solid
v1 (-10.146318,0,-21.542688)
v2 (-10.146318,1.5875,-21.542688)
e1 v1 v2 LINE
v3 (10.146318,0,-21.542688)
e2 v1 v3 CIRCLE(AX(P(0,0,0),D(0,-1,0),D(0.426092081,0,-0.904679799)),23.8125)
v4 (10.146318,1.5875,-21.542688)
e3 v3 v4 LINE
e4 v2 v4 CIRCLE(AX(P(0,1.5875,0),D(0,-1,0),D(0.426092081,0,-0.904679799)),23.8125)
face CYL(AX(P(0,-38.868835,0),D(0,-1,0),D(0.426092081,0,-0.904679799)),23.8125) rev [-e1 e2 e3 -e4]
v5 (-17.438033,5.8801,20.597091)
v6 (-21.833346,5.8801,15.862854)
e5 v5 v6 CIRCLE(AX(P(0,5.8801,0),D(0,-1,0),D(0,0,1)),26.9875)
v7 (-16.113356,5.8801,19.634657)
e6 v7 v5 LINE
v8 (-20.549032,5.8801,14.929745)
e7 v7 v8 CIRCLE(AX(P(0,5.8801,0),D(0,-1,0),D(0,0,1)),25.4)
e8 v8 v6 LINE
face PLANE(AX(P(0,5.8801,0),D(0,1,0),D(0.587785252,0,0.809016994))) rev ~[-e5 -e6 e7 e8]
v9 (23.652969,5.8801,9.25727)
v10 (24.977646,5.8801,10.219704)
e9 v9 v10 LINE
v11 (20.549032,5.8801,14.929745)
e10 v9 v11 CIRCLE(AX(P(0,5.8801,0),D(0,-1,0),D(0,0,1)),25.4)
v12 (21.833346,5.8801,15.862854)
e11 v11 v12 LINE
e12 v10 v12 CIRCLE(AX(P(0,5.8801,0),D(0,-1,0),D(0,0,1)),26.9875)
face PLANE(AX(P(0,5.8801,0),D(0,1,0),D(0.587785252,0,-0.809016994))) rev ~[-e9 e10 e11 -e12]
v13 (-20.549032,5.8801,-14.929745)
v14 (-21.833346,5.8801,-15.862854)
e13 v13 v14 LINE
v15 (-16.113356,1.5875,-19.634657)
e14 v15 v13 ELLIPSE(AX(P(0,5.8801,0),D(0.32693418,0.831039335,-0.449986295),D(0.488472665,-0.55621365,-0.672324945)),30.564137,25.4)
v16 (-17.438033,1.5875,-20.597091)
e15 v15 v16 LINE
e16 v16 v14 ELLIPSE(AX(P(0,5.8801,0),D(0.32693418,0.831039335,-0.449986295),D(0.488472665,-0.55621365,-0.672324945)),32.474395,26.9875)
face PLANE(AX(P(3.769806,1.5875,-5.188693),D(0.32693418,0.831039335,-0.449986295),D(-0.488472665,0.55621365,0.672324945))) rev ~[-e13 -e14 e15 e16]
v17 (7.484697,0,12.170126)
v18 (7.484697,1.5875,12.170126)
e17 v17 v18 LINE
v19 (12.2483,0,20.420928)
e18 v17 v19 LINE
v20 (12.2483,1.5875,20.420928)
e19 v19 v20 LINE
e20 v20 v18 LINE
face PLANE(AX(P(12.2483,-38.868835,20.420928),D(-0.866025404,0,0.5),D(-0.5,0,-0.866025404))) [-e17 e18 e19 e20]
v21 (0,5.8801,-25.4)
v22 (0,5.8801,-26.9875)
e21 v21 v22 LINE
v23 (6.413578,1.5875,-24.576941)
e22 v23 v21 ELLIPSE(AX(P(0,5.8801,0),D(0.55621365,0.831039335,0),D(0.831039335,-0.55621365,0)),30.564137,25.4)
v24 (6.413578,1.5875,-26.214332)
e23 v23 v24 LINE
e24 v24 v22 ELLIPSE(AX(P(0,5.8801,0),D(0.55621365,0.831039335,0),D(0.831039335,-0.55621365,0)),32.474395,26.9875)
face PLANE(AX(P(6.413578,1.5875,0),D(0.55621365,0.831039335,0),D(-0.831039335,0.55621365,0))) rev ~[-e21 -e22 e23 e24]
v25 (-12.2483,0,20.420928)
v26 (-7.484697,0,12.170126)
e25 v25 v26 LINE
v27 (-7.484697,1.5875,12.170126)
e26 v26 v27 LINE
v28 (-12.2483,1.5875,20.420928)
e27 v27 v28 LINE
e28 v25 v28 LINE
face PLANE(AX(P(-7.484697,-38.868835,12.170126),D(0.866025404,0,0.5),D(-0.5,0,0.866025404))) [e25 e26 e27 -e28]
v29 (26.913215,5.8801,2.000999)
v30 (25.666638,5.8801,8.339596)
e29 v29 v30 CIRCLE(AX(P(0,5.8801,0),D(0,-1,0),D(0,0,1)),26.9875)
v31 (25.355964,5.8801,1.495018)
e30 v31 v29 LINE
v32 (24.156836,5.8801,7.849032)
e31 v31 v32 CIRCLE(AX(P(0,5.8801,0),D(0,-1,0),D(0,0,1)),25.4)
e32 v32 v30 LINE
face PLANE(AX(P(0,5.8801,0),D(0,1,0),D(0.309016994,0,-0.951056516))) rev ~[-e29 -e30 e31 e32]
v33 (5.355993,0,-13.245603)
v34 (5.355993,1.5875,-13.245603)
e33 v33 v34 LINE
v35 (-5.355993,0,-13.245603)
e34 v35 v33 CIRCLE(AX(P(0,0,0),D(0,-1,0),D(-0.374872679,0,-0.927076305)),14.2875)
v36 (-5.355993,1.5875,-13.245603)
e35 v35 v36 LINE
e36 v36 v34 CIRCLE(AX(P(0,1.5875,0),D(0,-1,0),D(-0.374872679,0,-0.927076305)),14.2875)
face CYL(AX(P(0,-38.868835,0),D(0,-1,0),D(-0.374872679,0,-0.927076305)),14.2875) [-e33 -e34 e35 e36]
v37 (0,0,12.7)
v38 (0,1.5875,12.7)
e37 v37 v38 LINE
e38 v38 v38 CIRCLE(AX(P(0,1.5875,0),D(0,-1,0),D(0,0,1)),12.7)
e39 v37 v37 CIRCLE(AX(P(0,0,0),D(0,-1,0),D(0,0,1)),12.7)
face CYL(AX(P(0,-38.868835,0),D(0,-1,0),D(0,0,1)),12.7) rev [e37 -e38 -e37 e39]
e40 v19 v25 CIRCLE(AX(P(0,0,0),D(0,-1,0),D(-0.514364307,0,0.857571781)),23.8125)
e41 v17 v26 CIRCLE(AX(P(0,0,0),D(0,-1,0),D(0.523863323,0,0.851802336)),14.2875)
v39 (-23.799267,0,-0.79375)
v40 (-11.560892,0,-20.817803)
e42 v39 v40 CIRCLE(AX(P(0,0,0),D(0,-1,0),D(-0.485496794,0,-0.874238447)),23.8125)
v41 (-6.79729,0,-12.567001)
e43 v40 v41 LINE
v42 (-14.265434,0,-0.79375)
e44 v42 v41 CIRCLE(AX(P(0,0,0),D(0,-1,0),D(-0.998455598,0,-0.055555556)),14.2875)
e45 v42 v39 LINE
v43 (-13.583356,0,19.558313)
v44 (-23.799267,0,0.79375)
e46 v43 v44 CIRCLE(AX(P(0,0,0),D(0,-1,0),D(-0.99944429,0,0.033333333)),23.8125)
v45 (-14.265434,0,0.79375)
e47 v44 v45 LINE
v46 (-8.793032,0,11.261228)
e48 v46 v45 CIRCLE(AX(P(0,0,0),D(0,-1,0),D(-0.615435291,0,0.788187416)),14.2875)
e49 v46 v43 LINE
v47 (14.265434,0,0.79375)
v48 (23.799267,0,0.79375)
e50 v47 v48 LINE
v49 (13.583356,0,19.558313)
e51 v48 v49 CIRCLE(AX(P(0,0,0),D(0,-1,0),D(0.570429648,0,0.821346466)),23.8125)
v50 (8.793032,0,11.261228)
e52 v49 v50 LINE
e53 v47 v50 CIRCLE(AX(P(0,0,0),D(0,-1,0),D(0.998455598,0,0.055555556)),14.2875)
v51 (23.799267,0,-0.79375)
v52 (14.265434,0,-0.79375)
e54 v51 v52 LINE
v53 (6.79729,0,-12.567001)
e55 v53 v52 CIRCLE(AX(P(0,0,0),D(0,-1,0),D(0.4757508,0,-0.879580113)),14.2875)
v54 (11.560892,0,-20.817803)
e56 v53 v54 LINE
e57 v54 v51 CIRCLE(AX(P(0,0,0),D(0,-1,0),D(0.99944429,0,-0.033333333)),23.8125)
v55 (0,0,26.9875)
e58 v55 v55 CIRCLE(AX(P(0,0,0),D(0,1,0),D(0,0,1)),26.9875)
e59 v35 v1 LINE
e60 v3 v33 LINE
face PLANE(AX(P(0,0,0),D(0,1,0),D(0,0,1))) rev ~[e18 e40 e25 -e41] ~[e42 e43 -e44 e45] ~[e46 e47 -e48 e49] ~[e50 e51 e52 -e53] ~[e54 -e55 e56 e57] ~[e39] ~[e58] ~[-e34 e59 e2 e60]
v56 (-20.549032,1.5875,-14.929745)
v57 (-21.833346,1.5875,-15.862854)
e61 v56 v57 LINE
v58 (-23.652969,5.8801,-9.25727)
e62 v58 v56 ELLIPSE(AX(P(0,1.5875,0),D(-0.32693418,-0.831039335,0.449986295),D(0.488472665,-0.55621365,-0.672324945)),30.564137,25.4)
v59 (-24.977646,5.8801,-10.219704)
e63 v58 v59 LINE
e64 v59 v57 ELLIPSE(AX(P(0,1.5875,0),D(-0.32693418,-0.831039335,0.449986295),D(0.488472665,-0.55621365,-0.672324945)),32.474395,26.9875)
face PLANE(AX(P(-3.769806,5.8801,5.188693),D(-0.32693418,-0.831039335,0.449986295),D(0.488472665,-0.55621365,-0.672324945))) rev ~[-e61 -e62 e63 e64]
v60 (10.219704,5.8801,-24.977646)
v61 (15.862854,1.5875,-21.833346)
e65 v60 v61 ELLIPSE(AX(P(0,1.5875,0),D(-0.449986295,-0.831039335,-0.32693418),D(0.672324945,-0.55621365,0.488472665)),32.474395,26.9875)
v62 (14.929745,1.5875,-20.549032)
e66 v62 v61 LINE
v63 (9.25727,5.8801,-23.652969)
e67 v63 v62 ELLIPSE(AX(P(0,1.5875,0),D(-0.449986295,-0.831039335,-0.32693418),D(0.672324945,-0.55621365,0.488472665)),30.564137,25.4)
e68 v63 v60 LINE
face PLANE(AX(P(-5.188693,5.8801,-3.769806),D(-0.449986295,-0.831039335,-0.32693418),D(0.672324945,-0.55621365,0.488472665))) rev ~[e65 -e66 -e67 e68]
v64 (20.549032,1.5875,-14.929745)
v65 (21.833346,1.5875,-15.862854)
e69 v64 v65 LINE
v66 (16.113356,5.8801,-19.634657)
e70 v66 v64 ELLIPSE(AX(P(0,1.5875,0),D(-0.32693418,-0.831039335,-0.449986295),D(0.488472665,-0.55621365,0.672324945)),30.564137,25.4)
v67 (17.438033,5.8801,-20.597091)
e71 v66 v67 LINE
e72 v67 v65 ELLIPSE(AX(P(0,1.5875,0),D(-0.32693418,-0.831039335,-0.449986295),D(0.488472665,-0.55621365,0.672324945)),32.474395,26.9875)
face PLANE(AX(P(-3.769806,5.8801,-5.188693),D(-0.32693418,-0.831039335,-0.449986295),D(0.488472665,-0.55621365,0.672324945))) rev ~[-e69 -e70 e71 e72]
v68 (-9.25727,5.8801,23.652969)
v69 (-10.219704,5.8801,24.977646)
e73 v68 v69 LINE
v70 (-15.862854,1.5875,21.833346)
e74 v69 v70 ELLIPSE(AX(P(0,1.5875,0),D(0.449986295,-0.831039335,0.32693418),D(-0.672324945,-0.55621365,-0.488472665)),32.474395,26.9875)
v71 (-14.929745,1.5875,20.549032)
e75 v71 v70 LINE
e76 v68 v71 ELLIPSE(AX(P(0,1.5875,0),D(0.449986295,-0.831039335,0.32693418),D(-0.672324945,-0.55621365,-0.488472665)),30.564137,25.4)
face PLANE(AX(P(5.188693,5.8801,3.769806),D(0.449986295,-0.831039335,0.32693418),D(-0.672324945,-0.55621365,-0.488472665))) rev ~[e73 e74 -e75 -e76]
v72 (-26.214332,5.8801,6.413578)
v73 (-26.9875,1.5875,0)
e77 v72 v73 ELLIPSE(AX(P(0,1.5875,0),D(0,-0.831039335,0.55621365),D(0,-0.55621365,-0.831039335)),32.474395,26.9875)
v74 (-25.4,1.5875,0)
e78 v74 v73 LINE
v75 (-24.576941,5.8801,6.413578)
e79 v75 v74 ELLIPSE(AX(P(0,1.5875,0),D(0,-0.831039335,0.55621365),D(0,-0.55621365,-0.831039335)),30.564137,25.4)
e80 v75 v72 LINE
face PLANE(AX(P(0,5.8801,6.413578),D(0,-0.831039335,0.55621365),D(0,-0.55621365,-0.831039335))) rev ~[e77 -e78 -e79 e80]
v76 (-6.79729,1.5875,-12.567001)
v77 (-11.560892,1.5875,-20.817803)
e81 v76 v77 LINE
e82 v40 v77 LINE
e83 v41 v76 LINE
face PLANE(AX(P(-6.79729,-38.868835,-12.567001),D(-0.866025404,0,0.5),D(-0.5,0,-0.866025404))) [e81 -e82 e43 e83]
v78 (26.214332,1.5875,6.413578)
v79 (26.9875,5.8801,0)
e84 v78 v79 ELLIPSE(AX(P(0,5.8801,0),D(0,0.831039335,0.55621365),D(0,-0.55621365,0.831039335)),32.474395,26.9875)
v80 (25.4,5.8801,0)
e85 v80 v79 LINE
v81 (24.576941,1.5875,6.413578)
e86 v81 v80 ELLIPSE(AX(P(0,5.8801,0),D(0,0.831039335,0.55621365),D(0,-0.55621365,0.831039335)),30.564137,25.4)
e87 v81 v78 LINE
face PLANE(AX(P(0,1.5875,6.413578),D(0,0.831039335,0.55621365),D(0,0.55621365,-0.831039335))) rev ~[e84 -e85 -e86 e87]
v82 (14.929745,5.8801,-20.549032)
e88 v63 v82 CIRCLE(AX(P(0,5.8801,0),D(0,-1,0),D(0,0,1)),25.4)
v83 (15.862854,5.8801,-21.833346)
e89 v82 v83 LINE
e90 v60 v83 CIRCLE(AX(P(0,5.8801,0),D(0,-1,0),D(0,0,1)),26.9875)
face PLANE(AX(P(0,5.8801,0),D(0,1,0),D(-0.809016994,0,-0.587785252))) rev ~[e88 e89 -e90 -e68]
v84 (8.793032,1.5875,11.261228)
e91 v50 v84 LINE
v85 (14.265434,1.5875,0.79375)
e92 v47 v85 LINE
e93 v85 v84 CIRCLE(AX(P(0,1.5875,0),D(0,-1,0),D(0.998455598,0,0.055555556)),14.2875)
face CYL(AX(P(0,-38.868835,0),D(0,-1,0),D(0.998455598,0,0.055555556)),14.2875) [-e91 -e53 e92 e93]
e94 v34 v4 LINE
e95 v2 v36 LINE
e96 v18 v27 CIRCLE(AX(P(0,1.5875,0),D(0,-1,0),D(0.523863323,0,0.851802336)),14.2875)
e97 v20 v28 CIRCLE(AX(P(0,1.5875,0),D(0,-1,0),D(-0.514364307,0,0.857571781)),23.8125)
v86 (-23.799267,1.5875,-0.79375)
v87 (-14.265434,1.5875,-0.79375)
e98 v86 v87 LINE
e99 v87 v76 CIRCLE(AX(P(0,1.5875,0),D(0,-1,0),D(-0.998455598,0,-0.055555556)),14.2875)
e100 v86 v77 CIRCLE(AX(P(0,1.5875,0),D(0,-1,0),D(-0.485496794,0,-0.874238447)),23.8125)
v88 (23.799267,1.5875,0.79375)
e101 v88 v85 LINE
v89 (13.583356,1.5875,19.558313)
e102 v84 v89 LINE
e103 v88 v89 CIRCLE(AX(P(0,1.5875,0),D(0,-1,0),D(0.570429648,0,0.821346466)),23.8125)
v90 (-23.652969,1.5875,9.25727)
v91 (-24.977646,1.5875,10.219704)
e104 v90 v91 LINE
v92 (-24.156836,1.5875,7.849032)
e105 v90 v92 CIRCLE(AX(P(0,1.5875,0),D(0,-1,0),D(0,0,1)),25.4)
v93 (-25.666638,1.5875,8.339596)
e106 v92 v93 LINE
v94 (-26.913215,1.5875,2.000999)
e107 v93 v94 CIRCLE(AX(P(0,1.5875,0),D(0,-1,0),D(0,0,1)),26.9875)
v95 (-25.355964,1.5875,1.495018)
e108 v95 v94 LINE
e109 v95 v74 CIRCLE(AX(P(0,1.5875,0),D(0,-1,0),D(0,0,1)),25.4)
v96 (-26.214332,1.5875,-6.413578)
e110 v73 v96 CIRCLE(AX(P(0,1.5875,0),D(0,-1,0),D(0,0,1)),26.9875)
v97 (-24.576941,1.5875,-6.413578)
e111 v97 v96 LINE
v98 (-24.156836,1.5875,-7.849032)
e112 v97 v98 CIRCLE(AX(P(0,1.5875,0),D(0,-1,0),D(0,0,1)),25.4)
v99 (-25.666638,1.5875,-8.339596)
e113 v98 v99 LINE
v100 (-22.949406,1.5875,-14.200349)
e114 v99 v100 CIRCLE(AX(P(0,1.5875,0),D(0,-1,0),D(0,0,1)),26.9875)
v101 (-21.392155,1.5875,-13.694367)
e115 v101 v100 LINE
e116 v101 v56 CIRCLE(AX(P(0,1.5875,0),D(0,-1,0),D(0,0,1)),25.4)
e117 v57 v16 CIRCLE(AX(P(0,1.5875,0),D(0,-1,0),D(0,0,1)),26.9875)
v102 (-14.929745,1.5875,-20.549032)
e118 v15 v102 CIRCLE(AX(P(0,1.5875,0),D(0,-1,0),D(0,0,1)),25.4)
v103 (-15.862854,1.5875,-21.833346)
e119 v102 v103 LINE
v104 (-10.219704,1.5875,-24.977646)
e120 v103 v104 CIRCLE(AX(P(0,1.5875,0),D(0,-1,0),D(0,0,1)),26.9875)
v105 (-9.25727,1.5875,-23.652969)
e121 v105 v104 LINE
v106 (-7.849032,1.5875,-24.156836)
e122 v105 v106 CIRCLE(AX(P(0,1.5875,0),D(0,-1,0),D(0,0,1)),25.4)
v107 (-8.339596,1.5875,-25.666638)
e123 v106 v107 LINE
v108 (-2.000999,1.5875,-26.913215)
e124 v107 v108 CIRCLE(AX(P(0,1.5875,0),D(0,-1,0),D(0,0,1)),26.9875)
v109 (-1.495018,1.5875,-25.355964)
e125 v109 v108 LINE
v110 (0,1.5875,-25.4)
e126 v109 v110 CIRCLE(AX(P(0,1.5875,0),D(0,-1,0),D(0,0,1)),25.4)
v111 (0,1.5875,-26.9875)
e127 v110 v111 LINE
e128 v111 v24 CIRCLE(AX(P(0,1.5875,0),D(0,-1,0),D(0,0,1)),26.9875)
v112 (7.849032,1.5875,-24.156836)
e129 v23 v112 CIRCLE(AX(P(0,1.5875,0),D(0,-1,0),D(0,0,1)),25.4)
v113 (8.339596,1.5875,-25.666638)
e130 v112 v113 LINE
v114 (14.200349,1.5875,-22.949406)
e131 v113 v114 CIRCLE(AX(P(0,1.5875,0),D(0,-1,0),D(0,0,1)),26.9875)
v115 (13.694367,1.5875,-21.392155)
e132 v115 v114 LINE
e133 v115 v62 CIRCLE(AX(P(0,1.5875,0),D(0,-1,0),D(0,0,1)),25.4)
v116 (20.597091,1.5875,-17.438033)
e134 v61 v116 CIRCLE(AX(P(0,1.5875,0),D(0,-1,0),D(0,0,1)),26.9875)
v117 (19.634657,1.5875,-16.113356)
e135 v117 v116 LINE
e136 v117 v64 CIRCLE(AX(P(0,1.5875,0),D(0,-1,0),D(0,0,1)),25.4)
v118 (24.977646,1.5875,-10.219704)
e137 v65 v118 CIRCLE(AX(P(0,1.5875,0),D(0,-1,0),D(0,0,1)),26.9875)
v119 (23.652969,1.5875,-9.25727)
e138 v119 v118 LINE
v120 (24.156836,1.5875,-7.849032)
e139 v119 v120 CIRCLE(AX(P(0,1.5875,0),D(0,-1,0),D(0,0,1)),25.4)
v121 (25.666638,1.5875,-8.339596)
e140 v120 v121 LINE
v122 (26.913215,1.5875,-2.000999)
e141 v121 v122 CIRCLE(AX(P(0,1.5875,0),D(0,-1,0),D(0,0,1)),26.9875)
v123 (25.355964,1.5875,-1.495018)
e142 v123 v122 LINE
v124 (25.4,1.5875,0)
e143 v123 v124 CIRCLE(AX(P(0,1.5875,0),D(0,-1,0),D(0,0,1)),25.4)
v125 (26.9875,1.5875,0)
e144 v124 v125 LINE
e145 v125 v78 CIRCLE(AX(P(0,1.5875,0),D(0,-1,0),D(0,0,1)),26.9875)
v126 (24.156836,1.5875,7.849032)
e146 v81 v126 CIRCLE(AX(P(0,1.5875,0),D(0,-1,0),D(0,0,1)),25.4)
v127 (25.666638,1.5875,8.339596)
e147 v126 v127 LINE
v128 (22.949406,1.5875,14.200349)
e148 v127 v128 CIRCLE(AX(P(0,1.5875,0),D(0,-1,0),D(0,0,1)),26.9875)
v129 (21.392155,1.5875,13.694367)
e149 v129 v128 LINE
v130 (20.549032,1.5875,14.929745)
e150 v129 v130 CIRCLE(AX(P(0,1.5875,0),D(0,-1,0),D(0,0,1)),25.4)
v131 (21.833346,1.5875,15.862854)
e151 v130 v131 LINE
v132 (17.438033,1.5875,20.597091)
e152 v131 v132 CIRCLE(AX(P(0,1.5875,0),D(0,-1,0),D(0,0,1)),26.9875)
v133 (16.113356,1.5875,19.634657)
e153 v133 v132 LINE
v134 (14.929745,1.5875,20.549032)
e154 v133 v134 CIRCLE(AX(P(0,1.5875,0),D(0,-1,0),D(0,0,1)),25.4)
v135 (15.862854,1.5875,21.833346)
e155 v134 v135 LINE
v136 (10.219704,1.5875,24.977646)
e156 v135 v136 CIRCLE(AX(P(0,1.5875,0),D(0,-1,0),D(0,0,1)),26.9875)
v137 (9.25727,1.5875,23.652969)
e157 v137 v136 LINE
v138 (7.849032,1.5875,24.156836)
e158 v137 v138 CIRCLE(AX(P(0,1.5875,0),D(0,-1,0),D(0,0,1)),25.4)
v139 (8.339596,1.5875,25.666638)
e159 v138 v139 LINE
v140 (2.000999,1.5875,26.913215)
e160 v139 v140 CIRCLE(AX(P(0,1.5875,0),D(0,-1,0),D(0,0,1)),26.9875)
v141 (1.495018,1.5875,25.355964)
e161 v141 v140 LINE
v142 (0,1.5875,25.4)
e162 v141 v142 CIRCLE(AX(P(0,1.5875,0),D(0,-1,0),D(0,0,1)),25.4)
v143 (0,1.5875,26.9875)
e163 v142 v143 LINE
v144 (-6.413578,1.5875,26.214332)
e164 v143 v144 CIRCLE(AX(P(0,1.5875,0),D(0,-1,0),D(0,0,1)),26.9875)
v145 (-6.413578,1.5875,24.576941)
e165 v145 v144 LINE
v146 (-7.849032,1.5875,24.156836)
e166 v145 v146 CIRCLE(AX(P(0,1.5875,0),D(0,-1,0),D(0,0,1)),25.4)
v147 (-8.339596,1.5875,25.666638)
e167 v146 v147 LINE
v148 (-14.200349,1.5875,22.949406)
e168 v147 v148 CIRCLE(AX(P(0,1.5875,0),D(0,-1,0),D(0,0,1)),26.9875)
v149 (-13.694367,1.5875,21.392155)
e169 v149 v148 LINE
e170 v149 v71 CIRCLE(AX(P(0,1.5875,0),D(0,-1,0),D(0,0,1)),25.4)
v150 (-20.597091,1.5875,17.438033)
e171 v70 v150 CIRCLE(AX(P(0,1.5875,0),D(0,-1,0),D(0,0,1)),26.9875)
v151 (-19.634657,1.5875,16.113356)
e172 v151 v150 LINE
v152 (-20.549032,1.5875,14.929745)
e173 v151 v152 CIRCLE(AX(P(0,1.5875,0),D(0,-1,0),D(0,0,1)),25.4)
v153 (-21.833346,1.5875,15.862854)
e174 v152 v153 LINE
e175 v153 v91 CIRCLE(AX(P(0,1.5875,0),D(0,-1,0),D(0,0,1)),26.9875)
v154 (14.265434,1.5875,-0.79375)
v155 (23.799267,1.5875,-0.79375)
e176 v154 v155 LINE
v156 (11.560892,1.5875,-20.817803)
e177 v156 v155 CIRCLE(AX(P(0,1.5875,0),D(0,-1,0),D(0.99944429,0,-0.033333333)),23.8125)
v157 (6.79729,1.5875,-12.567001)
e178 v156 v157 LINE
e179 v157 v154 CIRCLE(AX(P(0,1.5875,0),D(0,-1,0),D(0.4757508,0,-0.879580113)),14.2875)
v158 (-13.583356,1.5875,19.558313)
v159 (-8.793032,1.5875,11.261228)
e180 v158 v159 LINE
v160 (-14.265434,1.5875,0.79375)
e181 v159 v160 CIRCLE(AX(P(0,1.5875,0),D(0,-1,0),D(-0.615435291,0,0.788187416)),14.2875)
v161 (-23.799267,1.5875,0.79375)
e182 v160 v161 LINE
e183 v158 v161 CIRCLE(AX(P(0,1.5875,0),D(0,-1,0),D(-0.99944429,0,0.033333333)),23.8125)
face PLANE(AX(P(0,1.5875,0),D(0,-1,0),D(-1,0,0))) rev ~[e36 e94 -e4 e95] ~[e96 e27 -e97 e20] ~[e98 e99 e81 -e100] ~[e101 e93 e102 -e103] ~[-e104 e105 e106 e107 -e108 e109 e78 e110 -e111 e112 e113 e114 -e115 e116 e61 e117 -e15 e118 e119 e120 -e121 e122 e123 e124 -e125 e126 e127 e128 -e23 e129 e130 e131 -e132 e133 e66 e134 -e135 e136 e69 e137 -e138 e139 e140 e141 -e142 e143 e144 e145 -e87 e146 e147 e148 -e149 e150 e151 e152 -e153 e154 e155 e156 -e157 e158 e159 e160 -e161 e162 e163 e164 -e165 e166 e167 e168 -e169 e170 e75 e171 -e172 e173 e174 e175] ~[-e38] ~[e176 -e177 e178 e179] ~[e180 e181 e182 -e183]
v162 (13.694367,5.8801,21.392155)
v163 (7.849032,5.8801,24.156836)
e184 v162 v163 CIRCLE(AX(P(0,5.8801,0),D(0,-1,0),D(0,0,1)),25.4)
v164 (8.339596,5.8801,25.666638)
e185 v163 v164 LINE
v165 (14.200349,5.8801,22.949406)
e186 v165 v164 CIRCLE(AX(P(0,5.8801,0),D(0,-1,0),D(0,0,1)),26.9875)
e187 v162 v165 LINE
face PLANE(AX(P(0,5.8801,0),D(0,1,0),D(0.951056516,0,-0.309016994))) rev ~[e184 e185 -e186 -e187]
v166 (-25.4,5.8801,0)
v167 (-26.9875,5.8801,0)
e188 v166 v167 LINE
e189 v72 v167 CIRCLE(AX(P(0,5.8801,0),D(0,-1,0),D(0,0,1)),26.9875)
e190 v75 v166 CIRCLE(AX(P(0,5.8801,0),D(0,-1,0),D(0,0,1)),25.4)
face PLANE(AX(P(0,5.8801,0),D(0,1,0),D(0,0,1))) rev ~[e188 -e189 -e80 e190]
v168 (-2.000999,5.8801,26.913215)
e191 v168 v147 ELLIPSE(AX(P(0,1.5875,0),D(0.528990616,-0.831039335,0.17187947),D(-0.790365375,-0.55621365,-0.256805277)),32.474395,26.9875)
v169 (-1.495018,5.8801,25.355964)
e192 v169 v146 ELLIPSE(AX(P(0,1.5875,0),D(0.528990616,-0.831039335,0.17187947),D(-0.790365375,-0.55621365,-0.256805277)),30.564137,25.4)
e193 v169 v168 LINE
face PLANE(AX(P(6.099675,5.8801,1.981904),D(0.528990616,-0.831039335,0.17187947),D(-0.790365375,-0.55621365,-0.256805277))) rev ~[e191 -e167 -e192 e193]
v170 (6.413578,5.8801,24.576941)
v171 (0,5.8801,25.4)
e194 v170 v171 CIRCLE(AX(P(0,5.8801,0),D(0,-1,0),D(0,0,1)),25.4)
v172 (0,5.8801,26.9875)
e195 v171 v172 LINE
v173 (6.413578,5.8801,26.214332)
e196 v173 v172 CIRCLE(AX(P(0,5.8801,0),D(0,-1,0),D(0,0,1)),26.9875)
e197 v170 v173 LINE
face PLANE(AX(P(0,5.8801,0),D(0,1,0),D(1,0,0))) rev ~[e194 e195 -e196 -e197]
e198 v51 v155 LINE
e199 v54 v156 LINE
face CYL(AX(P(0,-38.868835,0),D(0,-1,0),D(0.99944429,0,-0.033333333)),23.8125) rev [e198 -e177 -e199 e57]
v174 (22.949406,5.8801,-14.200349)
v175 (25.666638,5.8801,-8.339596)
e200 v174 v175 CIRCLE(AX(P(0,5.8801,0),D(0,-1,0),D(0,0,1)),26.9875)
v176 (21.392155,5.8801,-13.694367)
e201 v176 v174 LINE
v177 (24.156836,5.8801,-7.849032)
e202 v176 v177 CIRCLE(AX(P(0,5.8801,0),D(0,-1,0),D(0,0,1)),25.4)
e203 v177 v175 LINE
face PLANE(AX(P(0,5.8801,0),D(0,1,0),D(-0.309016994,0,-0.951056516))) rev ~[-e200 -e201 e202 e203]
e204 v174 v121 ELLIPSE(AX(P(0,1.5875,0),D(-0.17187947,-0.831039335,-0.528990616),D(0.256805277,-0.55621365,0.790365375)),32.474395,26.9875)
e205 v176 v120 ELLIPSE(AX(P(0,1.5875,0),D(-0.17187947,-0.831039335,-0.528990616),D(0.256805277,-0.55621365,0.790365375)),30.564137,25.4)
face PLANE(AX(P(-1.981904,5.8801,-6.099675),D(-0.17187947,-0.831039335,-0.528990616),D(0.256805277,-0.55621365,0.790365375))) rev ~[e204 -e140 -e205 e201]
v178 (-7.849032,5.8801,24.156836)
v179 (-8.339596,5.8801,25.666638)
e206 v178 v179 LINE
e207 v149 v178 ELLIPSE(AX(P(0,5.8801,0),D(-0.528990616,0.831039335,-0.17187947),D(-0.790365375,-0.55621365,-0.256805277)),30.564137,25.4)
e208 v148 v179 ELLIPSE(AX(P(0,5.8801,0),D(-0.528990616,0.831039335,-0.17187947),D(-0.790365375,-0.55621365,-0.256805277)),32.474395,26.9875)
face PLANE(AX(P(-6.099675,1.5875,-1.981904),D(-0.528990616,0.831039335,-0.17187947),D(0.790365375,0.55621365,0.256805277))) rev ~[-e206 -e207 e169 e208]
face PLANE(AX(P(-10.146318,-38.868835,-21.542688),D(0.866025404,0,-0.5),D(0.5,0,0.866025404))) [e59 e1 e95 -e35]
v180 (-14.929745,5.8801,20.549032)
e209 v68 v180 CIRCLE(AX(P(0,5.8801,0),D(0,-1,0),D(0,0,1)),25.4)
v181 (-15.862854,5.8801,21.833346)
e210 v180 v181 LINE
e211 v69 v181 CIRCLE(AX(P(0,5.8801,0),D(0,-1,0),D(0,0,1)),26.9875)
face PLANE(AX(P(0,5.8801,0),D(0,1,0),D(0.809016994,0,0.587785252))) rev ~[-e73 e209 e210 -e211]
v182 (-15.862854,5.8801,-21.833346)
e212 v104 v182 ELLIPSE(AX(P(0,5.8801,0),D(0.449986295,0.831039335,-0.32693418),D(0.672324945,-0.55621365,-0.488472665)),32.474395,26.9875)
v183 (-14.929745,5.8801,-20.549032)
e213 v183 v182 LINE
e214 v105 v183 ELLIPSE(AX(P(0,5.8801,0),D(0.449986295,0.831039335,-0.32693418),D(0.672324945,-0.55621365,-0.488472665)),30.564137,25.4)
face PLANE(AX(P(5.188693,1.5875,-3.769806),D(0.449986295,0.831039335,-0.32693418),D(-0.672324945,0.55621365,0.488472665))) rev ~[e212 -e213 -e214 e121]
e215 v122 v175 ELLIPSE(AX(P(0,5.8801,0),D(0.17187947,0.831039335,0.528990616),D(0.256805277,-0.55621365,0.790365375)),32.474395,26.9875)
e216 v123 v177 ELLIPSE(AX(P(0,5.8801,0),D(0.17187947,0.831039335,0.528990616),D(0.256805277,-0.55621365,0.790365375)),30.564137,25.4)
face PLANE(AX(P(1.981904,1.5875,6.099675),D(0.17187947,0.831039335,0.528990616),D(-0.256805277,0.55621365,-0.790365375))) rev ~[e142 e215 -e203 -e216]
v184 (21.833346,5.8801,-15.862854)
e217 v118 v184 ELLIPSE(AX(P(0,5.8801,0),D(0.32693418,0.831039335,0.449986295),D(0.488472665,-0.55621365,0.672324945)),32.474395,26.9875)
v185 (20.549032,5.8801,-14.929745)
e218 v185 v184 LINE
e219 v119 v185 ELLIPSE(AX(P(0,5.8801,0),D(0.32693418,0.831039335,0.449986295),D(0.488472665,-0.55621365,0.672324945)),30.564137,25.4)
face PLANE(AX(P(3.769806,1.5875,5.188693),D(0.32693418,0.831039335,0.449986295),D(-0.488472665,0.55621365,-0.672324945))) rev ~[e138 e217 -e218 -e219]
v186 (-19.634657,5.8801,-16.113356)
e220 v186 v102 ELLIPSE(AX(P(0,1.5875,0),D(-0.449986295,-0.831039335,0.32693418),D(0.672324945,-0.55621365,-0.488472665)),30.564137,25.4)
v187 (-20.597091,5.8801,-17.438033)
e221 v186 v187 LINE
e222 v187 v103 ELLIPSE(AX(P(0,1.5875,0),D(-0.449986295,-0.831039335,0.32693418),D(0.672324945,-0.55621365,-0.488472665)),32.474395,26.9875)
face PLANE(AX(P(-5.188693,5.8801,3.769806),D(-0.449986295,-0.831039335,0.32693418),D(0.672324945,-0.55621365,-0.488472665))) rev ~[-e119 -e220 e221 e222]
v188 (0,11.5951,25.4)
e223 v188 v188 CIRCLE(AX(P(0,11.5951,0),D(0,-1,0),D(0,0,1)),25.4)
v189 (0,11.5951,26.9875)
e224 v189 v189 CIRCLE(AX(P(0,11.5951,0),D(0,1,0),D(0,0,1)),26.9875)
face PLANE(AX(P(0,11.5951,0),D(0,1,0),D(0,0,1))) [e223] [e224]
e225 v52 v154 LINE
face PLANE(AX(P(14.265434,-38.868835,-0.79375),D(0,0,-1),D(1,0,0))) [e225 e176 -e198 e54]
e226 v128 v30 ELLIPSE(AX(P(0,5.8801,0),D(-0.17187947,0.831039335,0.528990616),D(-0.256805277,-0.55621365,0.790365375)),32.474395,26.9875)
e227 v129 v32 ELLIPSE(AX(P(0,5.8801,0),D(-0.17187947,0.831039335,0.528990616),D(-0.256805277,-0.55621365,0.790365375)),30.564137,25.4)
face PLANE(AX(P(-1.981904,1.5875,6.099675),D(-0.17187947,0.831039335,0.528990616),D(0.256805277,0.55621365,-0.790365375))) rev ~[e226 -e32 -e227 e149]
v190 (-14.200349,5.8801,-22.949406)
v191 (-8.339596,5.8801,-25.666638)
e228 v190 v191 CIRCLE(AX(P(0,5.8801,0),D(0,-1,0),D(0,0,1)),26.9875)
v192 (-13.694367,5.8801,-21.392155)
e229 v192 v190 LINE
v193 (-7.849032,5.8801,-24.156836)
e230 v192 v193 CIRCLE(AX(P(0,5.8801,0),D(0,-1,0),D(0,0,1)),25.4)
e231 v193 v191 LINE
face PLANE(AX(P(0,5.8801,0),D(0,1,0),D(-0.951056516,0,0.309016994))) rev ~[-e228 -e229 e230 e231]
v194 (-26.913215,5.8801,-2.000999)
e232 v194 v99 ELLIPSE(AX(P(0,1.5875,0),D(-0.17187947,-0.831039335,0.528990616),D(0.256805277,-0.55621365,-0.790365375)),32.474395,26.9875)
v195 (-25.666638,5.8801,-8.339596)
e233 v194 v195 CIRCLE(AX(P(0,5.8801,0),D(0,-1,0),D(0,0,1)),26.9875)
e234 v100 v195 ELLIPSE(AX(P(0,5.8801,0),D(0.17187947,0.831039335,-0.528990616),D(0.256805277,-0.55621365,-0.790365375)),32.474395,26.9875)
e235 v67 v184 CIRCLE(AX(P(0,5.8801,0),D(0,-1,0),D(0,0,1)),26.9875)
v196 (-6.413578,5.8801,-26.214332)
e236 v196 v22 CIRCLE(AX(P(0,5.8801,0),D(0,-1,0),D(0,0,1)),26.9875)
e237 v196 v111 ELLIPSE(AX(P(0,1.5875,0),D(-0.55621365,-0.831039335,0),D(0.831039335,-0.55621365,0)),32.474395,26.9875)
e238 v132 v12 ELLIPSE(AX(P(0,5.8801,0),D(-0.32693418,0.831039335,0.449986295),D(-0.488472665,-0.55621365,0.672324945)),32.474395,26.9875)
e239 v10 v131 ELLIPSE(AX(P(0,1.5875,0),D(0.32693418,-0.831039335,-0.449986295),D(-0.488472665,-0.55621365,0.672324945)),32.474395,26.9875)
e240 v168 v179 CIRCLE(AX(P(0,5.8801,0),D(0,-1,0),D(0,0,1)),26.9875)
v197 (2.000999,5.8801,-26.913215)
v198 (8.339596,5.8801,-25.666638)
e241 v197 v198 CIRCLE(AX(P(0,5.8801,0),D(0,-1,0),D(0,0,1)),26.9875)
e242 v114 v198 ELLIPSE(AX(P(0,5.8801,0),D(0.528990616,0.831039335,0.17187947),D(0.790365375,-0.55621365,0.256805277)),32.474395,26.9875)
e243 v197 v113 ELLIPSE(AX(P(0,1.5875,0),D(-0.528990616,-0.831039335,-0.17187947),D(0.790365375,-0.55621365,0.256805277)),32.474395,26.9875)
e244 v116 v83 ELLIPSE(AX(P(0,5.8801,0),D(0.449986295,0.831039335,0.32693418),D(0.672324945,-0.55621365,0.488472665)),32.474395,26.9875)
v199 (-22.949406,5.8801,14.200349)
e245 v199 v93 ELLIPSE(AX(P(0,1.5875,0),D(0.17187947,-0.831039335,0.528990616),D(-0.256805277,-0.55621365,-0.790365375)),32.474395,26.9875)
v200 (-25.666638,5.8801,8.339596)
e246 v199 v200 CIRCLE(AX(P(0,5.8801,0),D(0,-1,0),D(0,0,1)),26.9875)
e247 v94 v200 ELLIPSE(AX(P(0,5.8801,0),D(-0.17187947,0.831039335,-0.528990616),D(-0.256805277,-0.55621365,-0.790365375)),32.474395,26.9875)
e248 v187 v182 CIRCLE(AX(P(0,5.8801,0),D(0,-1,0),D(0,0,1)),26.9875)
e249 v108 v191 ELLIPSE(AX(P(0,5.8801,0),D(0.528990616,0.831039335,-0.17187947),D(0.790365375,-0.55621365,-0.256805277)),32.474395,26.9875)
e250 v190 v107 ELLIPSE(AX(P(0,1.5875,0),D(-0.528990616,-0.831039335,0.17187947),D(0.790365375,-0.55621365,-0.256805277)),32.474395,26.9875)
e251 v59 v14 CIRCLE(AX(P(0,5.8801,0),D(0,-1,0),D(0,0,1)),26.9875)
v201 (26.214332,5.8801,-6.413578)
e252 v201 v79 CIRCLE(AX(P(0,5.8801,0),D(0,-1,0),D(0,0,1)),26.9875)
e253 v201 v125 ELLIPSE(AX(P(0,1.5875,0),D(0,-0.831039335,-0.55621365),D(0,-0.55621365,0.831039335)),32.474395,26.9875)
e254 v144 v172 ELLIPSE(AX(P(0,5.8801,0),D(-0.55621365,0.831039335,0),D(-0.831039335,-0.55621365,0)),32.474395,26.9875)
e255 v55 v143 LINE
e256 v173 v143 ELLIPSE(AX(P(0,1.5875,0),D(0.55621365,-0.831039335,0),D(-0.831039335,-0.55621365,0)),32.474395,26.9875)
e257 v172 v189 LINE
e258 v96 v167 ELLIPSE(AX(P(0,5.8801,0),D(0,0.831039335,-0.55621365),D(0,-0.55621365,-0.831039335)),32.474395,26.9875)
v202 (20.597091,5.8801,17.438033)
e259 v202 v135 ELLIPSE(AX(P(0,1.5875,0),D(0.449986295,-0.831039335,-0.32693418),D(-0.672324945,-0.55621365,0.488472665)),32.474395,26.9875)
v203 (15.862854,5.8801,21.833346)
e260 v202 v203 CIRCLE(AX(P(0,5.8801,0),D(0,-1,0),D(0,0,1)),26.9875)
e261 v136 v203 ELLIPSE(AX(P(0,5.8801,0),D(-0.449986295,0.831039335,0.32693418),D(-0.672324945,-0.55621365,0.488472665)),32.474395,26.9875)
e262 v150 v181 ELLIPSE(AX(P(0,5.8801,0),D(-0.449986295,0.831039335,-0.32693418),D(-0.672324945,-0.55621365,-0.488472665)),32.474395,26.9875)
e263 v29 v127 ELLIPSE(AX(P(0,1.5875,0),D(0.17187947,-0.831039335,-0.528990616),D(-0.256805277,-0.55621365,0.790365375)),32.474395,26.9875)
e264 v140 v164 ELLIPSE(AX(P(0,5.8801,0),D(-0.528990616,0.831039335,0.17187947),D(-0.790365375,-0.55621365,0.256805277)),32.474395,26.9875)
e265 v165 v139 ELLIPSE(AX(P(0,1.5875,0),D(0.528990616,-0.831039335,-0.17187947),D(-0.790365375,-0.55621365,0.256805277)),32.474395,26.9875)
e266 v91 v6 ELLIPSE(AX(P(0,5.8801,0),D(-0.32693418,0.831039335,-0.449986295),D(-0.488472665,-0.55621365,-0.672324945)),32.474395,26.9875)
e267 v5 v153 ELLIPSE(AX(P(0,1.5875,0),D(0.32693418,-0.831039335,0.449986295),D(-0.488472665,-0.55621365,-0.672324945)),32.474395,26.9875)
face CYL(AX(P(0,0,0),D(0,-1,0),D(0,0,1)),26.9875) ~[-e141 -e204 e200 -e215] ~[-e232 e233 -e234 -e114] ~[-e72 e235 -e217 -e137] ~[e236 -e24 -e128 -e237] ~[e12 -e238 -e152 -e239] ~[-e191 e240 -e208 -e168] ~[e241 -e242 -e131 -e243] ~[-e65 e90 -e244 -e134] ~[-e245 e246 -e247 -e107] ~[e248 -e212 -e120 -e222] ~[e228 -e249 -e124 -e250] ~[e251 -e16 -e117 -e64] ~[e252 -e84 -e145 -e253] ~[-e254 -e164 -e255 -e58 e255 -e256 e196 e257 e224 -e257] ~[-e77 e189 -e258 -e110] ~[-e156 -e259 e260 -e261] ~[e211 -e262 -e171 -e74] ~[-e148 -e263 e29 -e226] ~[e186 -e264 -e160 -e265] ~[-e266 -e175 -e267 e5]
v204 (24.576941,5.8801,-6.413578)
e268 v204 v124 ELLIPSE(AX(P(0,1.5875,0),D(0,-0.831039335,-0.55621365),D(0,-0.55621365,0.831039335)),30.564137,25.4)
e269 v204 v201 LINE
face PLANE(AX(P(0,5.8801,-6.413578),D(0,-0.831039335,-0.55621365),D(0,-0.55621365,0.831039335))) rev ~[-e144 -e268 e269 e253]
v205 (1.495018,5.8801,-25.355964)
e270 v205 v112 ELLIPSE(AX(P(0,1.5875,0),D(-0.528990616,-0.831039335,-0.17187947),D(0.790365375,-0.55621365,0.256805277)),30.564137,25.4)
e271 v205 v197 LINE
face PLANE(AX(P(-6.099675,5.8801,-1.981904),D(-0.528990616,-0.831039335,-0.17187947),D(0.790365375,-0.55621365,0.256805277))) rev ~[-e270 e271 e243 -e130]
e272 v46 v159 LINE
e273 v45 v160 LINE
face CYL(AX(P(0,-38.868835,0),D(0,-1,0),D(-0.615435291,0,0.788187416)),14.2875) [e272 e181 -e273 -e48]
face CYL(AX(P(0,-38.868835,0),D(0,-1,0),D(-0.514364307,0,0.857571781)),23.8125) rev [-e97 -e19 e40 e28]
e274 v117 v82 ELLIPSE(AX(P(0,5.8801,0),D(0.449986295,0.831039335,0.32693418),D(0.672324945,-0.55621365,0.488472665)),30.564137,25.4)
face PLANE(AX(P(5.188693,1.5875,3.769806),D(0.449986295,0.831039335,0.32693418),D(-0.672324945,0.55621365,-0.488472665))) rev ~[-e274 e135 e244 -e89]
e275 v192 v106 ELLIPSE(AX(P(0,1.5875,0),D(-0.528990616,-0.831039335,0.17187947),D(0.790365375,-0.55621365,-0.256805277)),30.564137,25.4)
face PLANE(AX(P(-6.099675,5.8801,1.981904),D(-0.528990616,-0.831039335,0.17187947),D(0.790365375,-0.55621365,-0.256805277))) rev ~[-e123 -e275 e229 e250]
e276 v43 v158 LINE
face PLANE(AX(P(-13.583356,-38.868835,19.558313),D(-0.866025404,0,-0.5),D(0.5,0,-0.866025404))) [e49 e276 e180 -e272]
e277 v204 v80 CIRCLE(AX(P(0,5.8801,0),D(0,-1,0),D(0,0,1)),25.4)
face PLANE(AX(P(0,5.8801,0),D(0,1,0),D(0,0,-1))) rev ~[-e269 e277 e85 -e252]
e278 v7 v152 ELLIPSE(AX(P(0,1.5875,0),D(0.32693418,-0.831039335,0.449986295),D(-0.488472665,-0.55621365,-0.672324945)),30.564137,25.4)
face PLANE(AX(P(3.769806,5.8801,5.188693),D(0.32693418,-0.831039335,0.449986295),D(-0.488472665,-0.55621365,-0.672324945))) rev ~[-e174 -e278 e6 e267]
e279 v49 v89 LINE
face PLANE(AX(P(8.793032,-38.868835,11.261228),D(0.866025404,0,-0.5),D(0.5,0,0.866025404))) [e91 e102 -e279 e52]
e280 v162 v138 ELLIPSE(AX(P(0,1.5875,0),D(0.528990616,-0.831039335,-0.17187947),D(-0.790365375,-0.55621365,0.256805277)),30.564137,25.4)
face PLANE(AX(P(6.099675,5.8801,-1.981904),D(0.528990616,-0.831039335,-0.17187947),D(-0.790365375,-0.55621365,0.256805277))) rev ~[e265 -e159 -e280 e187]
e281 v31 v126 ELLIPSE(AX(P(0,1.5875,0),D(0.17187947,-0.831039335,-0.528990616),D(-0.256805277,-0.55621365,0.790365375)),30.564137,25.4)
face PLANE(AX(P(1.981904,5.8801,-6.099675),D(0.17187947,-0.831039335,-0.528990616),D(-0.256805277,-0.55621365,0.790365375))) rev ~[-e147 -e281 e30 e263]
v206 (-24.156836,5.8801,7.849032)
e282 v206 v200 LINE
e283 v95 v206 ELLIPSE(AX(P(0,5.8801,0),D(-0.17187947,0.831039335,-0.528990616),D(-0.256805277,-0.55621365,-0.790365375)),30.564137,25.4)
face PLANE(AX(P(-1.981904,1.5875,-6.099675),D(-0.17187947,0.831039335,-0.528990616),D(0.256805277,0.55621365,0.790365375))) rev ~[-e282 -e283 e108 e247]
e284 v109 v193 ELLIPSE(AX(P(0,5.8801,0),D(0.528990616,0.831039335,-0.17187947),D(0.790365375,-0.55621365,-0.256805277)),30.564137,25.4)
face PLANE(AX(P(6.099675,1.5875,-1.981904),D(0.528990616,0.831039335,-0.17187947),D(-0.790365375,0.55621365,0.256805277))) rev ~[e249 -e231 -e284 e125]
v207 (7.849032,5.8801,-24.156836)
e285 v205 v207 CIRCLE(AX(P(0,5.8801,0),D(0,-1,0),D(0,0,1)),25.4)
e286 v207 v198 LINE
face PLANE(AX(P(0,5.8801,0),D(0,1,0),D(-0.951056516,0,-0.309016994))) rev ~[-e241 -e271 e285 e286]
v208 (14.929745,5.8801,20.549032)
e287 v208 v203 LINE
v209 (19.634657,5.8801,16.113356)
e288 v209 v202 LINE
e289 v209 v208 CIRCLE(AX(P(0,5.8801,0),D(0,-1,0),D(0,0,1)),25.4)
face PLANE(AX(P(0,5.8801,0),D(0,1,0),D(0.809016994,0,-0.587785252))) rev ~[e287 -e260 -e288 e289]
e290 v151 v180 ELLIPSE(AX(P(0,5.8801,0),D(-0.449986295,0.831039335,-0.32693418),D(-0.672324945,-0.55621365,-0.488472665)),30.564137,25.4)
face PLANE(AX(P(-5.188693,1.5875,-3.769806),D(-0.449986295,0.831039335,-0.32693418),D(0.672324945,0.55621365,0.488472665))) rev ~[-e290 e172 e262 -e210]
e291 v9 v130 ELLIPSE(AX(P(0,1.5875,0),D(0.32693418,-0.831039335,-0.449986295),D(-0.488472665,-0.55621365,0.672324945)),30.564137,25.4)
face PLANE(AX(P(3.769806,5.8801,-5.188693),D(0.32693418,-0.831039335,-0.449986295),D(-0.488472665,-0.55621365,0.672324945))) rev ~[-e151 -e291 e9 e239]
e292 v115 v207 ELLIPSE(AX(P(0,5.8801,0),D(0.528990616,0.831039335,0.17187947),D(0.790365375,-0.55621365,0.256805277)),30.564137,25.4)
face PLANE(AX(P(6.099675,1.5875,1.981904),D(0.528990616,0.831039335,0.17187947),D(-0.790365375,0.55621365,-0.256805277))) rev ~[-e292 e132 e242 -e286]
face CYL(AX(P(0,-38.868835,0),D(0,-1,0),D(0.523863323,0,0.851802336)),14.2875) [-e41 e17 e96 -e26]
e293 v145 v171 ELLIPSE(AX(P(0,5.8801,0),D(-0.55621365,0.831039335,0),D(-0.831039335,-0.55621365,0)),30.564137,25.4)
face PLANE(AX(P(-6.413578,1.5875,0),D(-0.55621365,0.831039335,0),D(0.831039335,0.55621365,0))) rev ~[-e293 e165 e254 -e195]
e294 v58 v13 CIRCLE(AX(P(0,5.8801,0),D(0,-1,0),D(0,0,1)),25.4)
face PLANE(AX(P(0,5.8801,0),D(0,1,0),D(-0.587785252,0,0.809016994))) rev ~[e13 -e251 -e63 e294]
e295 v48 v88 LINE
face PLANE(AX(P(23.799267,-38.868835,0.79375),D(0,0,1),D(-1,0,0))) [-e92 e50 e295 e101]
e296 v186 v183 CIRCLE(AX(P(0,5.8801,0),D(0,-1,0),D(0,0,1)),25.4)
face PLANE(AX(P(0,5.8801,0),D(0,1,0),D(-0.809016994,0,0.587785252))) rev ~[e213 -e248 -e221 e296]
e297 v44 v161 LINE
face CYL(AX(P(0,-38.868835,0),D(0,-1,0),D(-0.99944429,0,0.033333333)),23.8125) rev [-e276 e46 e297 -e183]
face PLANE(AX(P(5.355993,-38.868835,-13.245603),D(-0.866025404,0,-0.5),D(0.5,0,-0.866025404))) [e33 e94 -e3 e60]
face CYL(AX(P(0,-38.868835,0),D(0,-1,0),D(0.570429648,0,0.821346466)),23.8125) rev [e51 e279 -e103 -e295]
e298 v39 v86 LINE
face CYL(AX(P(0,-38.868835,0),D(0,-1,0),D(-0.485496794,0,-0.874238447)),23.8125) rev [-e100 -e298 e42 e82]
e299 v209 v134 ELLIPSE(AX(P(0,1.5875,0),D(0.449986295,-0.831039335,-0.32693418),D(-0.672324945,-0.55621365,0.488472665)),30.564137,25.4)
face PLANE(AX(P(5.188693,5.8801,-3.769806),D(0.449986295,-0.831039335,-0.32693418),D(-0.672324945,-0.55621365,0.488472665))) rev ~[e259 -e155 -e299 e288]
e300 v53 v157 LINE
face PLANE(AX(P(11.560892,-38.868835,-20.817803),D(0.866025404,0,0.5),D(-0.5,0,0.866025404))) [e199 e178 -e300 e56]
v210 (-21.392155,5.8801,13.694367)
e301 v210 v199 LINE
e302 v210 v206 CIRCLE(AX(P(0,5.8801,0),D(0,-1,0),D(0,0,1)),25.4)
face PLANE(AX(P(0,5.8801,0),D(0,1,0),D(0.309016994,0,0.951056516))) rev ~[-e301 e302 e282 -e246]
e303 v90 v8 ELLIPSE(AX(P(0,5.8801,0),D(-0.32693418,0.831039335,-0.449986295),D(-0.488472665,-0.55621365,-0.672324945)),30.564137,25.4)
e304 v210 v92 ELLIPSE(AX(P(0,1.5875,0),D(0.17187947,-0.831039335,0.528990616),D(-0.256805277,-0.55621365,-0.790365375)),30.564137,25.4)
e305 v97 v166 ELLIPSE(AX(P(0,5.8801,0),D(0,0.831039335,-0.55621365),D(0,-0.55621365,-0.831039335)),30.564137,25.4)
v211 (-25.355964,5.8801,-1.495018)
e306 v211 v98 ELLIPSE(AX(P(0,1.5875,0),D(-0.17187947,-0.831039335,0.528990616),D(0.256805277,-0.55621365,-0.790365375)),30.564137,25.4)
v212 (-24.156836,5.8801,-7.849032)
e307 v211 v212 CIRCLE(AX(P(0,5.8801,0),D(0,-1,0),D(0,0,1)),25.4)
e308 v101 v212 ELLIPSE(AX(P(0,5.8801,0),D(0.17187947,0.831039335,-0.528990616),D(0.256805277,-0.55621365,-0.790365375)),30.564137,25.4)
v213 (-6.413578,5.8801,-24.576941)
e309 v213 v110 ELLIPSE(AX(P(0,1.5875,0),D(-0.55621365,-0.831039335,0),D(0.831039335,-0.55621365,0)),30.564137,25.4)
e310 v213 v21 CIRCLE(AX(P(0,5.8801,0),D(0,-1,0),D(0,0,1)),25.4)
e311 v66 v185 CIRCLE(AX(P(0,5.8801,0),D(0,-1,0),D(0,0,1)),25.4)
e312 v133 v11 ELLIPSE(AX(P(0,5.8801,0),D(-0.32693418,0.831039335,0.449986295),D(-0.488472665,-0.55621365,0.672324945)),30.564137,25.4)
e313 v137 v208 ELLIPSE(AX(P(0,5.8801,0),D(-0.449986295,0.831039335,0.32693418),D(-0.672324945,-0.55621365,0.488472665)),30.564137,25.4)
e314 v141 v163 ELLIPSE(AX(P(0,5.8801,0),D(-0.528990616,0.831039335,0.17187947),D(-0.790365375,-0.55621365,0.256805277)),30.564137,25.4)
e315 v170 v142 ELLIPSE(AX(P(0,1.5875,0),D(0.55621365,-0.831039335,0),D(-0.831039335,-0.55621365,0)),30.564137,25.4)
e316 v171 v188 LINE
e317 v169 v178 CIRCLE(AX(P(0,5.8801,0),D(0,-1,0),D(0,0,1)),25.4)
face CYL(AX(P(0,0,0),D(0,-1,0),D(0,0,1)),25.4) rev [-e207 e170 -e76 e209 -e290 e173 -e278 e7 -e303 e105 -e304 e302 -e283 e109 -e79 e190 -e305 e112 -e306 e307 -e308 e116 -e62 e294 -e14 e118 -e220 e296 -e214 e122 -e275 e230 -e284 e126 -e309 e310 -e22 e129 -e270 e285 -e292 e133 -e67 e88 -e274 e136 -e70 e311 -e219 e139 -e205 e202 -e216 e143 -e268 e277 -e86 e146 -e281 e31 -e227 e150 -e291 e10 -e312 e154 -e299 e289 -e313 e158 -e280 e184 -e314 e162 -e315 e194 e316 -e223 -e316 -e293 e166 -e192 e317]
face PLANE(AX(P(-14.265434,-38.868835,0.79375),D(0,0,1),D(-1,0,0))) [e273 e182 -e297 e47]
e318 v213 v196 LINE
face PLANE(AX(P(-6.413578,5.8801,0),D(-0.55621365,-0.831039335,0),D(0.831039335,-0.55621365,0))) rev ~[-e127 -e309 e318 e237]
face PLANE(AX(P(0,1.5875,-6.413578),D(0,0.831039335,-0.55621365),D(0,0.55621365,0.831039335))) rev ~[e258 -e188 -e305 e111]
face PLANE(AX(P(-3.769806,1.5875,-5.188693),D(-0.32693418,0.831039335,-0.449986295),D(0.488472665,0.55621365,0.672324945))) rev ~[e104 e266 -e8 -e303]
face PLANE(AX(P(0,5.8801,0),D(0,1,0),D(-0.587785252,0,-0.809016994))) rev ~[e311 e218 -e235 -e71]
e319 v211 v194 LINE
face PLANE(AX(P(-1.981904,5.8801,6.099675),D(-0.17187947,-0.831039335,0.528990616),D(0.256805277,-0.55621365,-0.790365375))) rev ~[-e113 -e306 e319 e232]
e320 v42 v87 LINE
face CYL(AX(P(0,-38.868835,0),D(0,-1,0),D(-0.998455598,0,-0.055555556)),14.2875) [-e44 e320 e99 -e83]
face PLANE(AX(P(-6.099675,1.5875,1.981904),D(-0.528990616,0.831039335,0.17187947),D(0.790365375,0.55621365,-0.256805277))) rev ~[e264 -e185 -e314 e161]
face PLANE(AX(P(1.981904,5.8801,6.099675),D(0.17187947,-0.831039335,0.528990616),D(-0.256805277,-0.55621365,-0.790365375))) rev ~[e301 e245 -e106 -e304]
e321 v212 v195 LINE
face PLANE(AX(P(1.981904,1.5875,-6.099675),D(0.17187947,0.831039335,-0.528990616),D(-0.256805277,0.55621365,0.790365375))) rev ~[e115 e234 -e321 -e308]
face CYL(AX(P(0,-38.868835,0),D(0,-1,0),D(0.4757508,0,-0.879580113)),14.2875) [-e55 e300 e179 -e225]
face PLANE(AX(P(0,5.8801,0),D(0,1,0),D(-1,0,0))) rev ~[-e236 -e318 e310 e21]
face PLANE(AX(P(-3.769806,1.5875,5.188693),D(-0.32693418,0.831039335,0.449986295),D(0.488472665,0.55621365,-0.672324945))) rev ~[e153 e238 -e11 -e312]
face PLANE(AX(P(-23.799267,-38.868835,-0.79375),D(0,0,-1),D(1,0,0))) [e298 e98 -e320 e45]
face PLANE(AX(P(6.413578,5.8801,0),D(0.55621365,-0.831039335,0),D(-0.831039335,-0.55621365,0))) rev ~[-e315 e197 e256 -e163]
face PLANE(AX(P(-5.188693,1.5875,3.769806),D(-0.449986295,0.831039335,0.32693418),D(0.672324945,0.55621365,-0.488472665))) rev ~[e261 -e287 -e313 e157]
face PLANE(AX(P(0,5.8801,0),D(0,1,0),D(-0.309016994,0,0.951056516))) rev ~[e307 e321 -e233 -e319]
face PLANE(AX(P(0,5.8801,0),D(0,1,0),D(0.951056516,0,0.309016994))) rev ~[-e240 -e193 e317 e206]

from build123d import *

# Parameters (mm, degrees)
SKETCH2_R               = 26.9875
BOSS_EXTRUDE1_DEPTH     = 11.5951
SHELL1_T                = -1.5875
CUT_EXTRUDE1_DEPTH      = 40.456334983
CUT_EXTRUDE1_DEPTH_BACK = 40.456334983
SKETCH5_R               = 12.7
CUT_EXTRUDE2_DEPTH      = 38.1
CIRPATTERN3_COUNT       = 20
CUT_EXTRUDE3_DEPTH      = 40.456334983
CUT_EXTRUDE3_DEPTH_BACK = 40.456334983


with BuildPart() as part:
    # Sketch2 → Boss-Extrude1 (new body)
    with BuildSketch(Plane(origin=(0, 0, 0), x_dir=(1, 0, 0), z_dir=(0, 1, 0))):
        Circle(SKETCH2_R)
    extrude(amount=BOSS_EXTRUDE1_DEPTH)

    # Shell1
    shell1_openings = [part.faces().sort_by_distance(p)[0] for p in [
        (0, 11.5951, 0),
    ]]
    offset(amount=SHELL1_T, openings=shell1_openings, kind=Kind.INTERSECTION)

    # Sketch5 → Cut-Extrude1 (cut, two sides: drawn at the far end of the back side and taken through both)
    with BuildSketch(Plane(origin=(0, 1.5875, 0), x_dir=(1, 0, 0), z_dir=(0, 1, 0)).offset(-CUT_EXTRUDE1_DEPTH_BACK)):
        Circle(SKETCH5_R)
    extrude(amount=CUT_EXTRUDE1_DEPTH + CUT_EXTRUDE1_DEPTH_BACK, mode=Mode.SUBTRACT)

    # Sketch6 → Cut-Extrude2 (cut)
    with BuildSketch(Plane.XY):
        Polygon((6.413577678, 1.5875), (0, 5.8801), (-6.413577678, 5.8801), (0, 1.5875), align=None)
    cut_extrude2 = extrude(amount=-CUT_EXTRUDE2_DEPTH, mode=Mode.SUBTRACT)

    # CirPattern3: Cut-Extrude2 ×20 about axis
    cirpattern3_axis = Axis((0, 11.5951, 0), (0, -1, 0))
    for i in range(1, CIRPATTERN3_COUNT):
        add(cut_extrude2.rotate(cirpattern3_axis, i * 360 / CIRPATTERN3_COUNT), mode=Mode.SUBTRACT)

    # Sketch7 → Cut-Extrude3 (cut, two sides: drawn at the far end of the back side and taken through both)
    with BuildSketch(Plane(origin=(0, 1.5875, 0), x_dir=(1, 0, 0), z_dir=(0, 1, 0)).offset(-CUT_EXTRUDE3_DEPTH_BACK)):
        with BuildLine():
            ThreePointArc((-23.799267157, -0.79375), (-20.913926743, -11.386080292), (-13.583355992, -19.558312715))
            Line((-13.583355992, -19.558312715), (-8.793031725, -11.261227701))
            ThreePointArc((-8.793031725, -11.261227701), (-12.661565337, -6.619472748), (-14.26543435, -0.79375))
            Line((-14.26543435, -0.79375), (-23.799267157, -0.79375))
        make_face()
        with BuildLine():
            Line((-7.484697224, -12.170125871), (-12.248300071, -20.42092803))
            ThreePointArc((-12.248300071, -20.42092803), (0, -23.8125), (12.248300071, -20.42092803))
            Line((12.248300071, -20.42092803), (7.484697224, -12.170125871))
            ThreePointArc((7.484697224, -12.170125871), (0, -14.2875), (-7.484697224, -12.170125871))
        make_face()
        with BuildLine():
            ThreePointArc((-11.560892407, 20.81780303), (-20.318117433, 12.418102118), (-23.799267157, 0.79375))
            Line((-23.799267157, 0.79375), (-14.26543435, 0.79375))
            ThreePointArc((-14.26543435, 0.79375), (-12.064905455, 7.653150502), (-6.79728956, 12.567000871))
            Line((-6.79728956, 12.567000871), (-11.560892407, 20.81780303))
        make_face()
        with BuildLine():
            Line((8.793031725, -11.261227701), (13.583355992, -19.558312715))
            ThreePointArc((13.583355992, -19.558312715), (20.913926743, -11.386080292), (23.799267157, -0.79375))
            Line((23.799267157, -0.79375), (14.26543435, -0.79375))
            ThreePointArc((14.26543435, -0.79375), (12.661565337, -6.619472748), (8.793031725, -11.261227701))
        make_face()
        with BuildLine():
            ThreePointArc((10.14631767, 21.542687715), (0, 23.8125), (-10.14631767, 21.542687715))
            Line((-10.14631767, 21.542687715), (-5.355993404, 13.245602701))
            ThreePointArc((-5.355993404, 13.245602701), (0, 14.2875), (5.355993404, 13.245602701))
            Line((5.355993404, 13.245602701), (10.14631767, 21.542687715))
        make_face()
        with BuildLine():
            ThreePointArc((6.79728956, 12.567000871), (12.064905455, 7.653150502), (14.26543435, 0.79375))
            Line((14.26543435, 0.79375), (23.799267157, 0.79375))
            ThreePointArc((23.799267157, 0.79375), (20.318117433, 12.418102118), (11.560892407, 20.81780303))
            Line((11.560892407, 20.81780303), (6.79728956, 12.567000871))
        make_face()
    extrude(amount=CUT_EXTRUDE3_DEPTH + CUT_EXTRUDE3_DEPTH_BACK, mode=Mode.SUBTRACT)


solid = part.part
